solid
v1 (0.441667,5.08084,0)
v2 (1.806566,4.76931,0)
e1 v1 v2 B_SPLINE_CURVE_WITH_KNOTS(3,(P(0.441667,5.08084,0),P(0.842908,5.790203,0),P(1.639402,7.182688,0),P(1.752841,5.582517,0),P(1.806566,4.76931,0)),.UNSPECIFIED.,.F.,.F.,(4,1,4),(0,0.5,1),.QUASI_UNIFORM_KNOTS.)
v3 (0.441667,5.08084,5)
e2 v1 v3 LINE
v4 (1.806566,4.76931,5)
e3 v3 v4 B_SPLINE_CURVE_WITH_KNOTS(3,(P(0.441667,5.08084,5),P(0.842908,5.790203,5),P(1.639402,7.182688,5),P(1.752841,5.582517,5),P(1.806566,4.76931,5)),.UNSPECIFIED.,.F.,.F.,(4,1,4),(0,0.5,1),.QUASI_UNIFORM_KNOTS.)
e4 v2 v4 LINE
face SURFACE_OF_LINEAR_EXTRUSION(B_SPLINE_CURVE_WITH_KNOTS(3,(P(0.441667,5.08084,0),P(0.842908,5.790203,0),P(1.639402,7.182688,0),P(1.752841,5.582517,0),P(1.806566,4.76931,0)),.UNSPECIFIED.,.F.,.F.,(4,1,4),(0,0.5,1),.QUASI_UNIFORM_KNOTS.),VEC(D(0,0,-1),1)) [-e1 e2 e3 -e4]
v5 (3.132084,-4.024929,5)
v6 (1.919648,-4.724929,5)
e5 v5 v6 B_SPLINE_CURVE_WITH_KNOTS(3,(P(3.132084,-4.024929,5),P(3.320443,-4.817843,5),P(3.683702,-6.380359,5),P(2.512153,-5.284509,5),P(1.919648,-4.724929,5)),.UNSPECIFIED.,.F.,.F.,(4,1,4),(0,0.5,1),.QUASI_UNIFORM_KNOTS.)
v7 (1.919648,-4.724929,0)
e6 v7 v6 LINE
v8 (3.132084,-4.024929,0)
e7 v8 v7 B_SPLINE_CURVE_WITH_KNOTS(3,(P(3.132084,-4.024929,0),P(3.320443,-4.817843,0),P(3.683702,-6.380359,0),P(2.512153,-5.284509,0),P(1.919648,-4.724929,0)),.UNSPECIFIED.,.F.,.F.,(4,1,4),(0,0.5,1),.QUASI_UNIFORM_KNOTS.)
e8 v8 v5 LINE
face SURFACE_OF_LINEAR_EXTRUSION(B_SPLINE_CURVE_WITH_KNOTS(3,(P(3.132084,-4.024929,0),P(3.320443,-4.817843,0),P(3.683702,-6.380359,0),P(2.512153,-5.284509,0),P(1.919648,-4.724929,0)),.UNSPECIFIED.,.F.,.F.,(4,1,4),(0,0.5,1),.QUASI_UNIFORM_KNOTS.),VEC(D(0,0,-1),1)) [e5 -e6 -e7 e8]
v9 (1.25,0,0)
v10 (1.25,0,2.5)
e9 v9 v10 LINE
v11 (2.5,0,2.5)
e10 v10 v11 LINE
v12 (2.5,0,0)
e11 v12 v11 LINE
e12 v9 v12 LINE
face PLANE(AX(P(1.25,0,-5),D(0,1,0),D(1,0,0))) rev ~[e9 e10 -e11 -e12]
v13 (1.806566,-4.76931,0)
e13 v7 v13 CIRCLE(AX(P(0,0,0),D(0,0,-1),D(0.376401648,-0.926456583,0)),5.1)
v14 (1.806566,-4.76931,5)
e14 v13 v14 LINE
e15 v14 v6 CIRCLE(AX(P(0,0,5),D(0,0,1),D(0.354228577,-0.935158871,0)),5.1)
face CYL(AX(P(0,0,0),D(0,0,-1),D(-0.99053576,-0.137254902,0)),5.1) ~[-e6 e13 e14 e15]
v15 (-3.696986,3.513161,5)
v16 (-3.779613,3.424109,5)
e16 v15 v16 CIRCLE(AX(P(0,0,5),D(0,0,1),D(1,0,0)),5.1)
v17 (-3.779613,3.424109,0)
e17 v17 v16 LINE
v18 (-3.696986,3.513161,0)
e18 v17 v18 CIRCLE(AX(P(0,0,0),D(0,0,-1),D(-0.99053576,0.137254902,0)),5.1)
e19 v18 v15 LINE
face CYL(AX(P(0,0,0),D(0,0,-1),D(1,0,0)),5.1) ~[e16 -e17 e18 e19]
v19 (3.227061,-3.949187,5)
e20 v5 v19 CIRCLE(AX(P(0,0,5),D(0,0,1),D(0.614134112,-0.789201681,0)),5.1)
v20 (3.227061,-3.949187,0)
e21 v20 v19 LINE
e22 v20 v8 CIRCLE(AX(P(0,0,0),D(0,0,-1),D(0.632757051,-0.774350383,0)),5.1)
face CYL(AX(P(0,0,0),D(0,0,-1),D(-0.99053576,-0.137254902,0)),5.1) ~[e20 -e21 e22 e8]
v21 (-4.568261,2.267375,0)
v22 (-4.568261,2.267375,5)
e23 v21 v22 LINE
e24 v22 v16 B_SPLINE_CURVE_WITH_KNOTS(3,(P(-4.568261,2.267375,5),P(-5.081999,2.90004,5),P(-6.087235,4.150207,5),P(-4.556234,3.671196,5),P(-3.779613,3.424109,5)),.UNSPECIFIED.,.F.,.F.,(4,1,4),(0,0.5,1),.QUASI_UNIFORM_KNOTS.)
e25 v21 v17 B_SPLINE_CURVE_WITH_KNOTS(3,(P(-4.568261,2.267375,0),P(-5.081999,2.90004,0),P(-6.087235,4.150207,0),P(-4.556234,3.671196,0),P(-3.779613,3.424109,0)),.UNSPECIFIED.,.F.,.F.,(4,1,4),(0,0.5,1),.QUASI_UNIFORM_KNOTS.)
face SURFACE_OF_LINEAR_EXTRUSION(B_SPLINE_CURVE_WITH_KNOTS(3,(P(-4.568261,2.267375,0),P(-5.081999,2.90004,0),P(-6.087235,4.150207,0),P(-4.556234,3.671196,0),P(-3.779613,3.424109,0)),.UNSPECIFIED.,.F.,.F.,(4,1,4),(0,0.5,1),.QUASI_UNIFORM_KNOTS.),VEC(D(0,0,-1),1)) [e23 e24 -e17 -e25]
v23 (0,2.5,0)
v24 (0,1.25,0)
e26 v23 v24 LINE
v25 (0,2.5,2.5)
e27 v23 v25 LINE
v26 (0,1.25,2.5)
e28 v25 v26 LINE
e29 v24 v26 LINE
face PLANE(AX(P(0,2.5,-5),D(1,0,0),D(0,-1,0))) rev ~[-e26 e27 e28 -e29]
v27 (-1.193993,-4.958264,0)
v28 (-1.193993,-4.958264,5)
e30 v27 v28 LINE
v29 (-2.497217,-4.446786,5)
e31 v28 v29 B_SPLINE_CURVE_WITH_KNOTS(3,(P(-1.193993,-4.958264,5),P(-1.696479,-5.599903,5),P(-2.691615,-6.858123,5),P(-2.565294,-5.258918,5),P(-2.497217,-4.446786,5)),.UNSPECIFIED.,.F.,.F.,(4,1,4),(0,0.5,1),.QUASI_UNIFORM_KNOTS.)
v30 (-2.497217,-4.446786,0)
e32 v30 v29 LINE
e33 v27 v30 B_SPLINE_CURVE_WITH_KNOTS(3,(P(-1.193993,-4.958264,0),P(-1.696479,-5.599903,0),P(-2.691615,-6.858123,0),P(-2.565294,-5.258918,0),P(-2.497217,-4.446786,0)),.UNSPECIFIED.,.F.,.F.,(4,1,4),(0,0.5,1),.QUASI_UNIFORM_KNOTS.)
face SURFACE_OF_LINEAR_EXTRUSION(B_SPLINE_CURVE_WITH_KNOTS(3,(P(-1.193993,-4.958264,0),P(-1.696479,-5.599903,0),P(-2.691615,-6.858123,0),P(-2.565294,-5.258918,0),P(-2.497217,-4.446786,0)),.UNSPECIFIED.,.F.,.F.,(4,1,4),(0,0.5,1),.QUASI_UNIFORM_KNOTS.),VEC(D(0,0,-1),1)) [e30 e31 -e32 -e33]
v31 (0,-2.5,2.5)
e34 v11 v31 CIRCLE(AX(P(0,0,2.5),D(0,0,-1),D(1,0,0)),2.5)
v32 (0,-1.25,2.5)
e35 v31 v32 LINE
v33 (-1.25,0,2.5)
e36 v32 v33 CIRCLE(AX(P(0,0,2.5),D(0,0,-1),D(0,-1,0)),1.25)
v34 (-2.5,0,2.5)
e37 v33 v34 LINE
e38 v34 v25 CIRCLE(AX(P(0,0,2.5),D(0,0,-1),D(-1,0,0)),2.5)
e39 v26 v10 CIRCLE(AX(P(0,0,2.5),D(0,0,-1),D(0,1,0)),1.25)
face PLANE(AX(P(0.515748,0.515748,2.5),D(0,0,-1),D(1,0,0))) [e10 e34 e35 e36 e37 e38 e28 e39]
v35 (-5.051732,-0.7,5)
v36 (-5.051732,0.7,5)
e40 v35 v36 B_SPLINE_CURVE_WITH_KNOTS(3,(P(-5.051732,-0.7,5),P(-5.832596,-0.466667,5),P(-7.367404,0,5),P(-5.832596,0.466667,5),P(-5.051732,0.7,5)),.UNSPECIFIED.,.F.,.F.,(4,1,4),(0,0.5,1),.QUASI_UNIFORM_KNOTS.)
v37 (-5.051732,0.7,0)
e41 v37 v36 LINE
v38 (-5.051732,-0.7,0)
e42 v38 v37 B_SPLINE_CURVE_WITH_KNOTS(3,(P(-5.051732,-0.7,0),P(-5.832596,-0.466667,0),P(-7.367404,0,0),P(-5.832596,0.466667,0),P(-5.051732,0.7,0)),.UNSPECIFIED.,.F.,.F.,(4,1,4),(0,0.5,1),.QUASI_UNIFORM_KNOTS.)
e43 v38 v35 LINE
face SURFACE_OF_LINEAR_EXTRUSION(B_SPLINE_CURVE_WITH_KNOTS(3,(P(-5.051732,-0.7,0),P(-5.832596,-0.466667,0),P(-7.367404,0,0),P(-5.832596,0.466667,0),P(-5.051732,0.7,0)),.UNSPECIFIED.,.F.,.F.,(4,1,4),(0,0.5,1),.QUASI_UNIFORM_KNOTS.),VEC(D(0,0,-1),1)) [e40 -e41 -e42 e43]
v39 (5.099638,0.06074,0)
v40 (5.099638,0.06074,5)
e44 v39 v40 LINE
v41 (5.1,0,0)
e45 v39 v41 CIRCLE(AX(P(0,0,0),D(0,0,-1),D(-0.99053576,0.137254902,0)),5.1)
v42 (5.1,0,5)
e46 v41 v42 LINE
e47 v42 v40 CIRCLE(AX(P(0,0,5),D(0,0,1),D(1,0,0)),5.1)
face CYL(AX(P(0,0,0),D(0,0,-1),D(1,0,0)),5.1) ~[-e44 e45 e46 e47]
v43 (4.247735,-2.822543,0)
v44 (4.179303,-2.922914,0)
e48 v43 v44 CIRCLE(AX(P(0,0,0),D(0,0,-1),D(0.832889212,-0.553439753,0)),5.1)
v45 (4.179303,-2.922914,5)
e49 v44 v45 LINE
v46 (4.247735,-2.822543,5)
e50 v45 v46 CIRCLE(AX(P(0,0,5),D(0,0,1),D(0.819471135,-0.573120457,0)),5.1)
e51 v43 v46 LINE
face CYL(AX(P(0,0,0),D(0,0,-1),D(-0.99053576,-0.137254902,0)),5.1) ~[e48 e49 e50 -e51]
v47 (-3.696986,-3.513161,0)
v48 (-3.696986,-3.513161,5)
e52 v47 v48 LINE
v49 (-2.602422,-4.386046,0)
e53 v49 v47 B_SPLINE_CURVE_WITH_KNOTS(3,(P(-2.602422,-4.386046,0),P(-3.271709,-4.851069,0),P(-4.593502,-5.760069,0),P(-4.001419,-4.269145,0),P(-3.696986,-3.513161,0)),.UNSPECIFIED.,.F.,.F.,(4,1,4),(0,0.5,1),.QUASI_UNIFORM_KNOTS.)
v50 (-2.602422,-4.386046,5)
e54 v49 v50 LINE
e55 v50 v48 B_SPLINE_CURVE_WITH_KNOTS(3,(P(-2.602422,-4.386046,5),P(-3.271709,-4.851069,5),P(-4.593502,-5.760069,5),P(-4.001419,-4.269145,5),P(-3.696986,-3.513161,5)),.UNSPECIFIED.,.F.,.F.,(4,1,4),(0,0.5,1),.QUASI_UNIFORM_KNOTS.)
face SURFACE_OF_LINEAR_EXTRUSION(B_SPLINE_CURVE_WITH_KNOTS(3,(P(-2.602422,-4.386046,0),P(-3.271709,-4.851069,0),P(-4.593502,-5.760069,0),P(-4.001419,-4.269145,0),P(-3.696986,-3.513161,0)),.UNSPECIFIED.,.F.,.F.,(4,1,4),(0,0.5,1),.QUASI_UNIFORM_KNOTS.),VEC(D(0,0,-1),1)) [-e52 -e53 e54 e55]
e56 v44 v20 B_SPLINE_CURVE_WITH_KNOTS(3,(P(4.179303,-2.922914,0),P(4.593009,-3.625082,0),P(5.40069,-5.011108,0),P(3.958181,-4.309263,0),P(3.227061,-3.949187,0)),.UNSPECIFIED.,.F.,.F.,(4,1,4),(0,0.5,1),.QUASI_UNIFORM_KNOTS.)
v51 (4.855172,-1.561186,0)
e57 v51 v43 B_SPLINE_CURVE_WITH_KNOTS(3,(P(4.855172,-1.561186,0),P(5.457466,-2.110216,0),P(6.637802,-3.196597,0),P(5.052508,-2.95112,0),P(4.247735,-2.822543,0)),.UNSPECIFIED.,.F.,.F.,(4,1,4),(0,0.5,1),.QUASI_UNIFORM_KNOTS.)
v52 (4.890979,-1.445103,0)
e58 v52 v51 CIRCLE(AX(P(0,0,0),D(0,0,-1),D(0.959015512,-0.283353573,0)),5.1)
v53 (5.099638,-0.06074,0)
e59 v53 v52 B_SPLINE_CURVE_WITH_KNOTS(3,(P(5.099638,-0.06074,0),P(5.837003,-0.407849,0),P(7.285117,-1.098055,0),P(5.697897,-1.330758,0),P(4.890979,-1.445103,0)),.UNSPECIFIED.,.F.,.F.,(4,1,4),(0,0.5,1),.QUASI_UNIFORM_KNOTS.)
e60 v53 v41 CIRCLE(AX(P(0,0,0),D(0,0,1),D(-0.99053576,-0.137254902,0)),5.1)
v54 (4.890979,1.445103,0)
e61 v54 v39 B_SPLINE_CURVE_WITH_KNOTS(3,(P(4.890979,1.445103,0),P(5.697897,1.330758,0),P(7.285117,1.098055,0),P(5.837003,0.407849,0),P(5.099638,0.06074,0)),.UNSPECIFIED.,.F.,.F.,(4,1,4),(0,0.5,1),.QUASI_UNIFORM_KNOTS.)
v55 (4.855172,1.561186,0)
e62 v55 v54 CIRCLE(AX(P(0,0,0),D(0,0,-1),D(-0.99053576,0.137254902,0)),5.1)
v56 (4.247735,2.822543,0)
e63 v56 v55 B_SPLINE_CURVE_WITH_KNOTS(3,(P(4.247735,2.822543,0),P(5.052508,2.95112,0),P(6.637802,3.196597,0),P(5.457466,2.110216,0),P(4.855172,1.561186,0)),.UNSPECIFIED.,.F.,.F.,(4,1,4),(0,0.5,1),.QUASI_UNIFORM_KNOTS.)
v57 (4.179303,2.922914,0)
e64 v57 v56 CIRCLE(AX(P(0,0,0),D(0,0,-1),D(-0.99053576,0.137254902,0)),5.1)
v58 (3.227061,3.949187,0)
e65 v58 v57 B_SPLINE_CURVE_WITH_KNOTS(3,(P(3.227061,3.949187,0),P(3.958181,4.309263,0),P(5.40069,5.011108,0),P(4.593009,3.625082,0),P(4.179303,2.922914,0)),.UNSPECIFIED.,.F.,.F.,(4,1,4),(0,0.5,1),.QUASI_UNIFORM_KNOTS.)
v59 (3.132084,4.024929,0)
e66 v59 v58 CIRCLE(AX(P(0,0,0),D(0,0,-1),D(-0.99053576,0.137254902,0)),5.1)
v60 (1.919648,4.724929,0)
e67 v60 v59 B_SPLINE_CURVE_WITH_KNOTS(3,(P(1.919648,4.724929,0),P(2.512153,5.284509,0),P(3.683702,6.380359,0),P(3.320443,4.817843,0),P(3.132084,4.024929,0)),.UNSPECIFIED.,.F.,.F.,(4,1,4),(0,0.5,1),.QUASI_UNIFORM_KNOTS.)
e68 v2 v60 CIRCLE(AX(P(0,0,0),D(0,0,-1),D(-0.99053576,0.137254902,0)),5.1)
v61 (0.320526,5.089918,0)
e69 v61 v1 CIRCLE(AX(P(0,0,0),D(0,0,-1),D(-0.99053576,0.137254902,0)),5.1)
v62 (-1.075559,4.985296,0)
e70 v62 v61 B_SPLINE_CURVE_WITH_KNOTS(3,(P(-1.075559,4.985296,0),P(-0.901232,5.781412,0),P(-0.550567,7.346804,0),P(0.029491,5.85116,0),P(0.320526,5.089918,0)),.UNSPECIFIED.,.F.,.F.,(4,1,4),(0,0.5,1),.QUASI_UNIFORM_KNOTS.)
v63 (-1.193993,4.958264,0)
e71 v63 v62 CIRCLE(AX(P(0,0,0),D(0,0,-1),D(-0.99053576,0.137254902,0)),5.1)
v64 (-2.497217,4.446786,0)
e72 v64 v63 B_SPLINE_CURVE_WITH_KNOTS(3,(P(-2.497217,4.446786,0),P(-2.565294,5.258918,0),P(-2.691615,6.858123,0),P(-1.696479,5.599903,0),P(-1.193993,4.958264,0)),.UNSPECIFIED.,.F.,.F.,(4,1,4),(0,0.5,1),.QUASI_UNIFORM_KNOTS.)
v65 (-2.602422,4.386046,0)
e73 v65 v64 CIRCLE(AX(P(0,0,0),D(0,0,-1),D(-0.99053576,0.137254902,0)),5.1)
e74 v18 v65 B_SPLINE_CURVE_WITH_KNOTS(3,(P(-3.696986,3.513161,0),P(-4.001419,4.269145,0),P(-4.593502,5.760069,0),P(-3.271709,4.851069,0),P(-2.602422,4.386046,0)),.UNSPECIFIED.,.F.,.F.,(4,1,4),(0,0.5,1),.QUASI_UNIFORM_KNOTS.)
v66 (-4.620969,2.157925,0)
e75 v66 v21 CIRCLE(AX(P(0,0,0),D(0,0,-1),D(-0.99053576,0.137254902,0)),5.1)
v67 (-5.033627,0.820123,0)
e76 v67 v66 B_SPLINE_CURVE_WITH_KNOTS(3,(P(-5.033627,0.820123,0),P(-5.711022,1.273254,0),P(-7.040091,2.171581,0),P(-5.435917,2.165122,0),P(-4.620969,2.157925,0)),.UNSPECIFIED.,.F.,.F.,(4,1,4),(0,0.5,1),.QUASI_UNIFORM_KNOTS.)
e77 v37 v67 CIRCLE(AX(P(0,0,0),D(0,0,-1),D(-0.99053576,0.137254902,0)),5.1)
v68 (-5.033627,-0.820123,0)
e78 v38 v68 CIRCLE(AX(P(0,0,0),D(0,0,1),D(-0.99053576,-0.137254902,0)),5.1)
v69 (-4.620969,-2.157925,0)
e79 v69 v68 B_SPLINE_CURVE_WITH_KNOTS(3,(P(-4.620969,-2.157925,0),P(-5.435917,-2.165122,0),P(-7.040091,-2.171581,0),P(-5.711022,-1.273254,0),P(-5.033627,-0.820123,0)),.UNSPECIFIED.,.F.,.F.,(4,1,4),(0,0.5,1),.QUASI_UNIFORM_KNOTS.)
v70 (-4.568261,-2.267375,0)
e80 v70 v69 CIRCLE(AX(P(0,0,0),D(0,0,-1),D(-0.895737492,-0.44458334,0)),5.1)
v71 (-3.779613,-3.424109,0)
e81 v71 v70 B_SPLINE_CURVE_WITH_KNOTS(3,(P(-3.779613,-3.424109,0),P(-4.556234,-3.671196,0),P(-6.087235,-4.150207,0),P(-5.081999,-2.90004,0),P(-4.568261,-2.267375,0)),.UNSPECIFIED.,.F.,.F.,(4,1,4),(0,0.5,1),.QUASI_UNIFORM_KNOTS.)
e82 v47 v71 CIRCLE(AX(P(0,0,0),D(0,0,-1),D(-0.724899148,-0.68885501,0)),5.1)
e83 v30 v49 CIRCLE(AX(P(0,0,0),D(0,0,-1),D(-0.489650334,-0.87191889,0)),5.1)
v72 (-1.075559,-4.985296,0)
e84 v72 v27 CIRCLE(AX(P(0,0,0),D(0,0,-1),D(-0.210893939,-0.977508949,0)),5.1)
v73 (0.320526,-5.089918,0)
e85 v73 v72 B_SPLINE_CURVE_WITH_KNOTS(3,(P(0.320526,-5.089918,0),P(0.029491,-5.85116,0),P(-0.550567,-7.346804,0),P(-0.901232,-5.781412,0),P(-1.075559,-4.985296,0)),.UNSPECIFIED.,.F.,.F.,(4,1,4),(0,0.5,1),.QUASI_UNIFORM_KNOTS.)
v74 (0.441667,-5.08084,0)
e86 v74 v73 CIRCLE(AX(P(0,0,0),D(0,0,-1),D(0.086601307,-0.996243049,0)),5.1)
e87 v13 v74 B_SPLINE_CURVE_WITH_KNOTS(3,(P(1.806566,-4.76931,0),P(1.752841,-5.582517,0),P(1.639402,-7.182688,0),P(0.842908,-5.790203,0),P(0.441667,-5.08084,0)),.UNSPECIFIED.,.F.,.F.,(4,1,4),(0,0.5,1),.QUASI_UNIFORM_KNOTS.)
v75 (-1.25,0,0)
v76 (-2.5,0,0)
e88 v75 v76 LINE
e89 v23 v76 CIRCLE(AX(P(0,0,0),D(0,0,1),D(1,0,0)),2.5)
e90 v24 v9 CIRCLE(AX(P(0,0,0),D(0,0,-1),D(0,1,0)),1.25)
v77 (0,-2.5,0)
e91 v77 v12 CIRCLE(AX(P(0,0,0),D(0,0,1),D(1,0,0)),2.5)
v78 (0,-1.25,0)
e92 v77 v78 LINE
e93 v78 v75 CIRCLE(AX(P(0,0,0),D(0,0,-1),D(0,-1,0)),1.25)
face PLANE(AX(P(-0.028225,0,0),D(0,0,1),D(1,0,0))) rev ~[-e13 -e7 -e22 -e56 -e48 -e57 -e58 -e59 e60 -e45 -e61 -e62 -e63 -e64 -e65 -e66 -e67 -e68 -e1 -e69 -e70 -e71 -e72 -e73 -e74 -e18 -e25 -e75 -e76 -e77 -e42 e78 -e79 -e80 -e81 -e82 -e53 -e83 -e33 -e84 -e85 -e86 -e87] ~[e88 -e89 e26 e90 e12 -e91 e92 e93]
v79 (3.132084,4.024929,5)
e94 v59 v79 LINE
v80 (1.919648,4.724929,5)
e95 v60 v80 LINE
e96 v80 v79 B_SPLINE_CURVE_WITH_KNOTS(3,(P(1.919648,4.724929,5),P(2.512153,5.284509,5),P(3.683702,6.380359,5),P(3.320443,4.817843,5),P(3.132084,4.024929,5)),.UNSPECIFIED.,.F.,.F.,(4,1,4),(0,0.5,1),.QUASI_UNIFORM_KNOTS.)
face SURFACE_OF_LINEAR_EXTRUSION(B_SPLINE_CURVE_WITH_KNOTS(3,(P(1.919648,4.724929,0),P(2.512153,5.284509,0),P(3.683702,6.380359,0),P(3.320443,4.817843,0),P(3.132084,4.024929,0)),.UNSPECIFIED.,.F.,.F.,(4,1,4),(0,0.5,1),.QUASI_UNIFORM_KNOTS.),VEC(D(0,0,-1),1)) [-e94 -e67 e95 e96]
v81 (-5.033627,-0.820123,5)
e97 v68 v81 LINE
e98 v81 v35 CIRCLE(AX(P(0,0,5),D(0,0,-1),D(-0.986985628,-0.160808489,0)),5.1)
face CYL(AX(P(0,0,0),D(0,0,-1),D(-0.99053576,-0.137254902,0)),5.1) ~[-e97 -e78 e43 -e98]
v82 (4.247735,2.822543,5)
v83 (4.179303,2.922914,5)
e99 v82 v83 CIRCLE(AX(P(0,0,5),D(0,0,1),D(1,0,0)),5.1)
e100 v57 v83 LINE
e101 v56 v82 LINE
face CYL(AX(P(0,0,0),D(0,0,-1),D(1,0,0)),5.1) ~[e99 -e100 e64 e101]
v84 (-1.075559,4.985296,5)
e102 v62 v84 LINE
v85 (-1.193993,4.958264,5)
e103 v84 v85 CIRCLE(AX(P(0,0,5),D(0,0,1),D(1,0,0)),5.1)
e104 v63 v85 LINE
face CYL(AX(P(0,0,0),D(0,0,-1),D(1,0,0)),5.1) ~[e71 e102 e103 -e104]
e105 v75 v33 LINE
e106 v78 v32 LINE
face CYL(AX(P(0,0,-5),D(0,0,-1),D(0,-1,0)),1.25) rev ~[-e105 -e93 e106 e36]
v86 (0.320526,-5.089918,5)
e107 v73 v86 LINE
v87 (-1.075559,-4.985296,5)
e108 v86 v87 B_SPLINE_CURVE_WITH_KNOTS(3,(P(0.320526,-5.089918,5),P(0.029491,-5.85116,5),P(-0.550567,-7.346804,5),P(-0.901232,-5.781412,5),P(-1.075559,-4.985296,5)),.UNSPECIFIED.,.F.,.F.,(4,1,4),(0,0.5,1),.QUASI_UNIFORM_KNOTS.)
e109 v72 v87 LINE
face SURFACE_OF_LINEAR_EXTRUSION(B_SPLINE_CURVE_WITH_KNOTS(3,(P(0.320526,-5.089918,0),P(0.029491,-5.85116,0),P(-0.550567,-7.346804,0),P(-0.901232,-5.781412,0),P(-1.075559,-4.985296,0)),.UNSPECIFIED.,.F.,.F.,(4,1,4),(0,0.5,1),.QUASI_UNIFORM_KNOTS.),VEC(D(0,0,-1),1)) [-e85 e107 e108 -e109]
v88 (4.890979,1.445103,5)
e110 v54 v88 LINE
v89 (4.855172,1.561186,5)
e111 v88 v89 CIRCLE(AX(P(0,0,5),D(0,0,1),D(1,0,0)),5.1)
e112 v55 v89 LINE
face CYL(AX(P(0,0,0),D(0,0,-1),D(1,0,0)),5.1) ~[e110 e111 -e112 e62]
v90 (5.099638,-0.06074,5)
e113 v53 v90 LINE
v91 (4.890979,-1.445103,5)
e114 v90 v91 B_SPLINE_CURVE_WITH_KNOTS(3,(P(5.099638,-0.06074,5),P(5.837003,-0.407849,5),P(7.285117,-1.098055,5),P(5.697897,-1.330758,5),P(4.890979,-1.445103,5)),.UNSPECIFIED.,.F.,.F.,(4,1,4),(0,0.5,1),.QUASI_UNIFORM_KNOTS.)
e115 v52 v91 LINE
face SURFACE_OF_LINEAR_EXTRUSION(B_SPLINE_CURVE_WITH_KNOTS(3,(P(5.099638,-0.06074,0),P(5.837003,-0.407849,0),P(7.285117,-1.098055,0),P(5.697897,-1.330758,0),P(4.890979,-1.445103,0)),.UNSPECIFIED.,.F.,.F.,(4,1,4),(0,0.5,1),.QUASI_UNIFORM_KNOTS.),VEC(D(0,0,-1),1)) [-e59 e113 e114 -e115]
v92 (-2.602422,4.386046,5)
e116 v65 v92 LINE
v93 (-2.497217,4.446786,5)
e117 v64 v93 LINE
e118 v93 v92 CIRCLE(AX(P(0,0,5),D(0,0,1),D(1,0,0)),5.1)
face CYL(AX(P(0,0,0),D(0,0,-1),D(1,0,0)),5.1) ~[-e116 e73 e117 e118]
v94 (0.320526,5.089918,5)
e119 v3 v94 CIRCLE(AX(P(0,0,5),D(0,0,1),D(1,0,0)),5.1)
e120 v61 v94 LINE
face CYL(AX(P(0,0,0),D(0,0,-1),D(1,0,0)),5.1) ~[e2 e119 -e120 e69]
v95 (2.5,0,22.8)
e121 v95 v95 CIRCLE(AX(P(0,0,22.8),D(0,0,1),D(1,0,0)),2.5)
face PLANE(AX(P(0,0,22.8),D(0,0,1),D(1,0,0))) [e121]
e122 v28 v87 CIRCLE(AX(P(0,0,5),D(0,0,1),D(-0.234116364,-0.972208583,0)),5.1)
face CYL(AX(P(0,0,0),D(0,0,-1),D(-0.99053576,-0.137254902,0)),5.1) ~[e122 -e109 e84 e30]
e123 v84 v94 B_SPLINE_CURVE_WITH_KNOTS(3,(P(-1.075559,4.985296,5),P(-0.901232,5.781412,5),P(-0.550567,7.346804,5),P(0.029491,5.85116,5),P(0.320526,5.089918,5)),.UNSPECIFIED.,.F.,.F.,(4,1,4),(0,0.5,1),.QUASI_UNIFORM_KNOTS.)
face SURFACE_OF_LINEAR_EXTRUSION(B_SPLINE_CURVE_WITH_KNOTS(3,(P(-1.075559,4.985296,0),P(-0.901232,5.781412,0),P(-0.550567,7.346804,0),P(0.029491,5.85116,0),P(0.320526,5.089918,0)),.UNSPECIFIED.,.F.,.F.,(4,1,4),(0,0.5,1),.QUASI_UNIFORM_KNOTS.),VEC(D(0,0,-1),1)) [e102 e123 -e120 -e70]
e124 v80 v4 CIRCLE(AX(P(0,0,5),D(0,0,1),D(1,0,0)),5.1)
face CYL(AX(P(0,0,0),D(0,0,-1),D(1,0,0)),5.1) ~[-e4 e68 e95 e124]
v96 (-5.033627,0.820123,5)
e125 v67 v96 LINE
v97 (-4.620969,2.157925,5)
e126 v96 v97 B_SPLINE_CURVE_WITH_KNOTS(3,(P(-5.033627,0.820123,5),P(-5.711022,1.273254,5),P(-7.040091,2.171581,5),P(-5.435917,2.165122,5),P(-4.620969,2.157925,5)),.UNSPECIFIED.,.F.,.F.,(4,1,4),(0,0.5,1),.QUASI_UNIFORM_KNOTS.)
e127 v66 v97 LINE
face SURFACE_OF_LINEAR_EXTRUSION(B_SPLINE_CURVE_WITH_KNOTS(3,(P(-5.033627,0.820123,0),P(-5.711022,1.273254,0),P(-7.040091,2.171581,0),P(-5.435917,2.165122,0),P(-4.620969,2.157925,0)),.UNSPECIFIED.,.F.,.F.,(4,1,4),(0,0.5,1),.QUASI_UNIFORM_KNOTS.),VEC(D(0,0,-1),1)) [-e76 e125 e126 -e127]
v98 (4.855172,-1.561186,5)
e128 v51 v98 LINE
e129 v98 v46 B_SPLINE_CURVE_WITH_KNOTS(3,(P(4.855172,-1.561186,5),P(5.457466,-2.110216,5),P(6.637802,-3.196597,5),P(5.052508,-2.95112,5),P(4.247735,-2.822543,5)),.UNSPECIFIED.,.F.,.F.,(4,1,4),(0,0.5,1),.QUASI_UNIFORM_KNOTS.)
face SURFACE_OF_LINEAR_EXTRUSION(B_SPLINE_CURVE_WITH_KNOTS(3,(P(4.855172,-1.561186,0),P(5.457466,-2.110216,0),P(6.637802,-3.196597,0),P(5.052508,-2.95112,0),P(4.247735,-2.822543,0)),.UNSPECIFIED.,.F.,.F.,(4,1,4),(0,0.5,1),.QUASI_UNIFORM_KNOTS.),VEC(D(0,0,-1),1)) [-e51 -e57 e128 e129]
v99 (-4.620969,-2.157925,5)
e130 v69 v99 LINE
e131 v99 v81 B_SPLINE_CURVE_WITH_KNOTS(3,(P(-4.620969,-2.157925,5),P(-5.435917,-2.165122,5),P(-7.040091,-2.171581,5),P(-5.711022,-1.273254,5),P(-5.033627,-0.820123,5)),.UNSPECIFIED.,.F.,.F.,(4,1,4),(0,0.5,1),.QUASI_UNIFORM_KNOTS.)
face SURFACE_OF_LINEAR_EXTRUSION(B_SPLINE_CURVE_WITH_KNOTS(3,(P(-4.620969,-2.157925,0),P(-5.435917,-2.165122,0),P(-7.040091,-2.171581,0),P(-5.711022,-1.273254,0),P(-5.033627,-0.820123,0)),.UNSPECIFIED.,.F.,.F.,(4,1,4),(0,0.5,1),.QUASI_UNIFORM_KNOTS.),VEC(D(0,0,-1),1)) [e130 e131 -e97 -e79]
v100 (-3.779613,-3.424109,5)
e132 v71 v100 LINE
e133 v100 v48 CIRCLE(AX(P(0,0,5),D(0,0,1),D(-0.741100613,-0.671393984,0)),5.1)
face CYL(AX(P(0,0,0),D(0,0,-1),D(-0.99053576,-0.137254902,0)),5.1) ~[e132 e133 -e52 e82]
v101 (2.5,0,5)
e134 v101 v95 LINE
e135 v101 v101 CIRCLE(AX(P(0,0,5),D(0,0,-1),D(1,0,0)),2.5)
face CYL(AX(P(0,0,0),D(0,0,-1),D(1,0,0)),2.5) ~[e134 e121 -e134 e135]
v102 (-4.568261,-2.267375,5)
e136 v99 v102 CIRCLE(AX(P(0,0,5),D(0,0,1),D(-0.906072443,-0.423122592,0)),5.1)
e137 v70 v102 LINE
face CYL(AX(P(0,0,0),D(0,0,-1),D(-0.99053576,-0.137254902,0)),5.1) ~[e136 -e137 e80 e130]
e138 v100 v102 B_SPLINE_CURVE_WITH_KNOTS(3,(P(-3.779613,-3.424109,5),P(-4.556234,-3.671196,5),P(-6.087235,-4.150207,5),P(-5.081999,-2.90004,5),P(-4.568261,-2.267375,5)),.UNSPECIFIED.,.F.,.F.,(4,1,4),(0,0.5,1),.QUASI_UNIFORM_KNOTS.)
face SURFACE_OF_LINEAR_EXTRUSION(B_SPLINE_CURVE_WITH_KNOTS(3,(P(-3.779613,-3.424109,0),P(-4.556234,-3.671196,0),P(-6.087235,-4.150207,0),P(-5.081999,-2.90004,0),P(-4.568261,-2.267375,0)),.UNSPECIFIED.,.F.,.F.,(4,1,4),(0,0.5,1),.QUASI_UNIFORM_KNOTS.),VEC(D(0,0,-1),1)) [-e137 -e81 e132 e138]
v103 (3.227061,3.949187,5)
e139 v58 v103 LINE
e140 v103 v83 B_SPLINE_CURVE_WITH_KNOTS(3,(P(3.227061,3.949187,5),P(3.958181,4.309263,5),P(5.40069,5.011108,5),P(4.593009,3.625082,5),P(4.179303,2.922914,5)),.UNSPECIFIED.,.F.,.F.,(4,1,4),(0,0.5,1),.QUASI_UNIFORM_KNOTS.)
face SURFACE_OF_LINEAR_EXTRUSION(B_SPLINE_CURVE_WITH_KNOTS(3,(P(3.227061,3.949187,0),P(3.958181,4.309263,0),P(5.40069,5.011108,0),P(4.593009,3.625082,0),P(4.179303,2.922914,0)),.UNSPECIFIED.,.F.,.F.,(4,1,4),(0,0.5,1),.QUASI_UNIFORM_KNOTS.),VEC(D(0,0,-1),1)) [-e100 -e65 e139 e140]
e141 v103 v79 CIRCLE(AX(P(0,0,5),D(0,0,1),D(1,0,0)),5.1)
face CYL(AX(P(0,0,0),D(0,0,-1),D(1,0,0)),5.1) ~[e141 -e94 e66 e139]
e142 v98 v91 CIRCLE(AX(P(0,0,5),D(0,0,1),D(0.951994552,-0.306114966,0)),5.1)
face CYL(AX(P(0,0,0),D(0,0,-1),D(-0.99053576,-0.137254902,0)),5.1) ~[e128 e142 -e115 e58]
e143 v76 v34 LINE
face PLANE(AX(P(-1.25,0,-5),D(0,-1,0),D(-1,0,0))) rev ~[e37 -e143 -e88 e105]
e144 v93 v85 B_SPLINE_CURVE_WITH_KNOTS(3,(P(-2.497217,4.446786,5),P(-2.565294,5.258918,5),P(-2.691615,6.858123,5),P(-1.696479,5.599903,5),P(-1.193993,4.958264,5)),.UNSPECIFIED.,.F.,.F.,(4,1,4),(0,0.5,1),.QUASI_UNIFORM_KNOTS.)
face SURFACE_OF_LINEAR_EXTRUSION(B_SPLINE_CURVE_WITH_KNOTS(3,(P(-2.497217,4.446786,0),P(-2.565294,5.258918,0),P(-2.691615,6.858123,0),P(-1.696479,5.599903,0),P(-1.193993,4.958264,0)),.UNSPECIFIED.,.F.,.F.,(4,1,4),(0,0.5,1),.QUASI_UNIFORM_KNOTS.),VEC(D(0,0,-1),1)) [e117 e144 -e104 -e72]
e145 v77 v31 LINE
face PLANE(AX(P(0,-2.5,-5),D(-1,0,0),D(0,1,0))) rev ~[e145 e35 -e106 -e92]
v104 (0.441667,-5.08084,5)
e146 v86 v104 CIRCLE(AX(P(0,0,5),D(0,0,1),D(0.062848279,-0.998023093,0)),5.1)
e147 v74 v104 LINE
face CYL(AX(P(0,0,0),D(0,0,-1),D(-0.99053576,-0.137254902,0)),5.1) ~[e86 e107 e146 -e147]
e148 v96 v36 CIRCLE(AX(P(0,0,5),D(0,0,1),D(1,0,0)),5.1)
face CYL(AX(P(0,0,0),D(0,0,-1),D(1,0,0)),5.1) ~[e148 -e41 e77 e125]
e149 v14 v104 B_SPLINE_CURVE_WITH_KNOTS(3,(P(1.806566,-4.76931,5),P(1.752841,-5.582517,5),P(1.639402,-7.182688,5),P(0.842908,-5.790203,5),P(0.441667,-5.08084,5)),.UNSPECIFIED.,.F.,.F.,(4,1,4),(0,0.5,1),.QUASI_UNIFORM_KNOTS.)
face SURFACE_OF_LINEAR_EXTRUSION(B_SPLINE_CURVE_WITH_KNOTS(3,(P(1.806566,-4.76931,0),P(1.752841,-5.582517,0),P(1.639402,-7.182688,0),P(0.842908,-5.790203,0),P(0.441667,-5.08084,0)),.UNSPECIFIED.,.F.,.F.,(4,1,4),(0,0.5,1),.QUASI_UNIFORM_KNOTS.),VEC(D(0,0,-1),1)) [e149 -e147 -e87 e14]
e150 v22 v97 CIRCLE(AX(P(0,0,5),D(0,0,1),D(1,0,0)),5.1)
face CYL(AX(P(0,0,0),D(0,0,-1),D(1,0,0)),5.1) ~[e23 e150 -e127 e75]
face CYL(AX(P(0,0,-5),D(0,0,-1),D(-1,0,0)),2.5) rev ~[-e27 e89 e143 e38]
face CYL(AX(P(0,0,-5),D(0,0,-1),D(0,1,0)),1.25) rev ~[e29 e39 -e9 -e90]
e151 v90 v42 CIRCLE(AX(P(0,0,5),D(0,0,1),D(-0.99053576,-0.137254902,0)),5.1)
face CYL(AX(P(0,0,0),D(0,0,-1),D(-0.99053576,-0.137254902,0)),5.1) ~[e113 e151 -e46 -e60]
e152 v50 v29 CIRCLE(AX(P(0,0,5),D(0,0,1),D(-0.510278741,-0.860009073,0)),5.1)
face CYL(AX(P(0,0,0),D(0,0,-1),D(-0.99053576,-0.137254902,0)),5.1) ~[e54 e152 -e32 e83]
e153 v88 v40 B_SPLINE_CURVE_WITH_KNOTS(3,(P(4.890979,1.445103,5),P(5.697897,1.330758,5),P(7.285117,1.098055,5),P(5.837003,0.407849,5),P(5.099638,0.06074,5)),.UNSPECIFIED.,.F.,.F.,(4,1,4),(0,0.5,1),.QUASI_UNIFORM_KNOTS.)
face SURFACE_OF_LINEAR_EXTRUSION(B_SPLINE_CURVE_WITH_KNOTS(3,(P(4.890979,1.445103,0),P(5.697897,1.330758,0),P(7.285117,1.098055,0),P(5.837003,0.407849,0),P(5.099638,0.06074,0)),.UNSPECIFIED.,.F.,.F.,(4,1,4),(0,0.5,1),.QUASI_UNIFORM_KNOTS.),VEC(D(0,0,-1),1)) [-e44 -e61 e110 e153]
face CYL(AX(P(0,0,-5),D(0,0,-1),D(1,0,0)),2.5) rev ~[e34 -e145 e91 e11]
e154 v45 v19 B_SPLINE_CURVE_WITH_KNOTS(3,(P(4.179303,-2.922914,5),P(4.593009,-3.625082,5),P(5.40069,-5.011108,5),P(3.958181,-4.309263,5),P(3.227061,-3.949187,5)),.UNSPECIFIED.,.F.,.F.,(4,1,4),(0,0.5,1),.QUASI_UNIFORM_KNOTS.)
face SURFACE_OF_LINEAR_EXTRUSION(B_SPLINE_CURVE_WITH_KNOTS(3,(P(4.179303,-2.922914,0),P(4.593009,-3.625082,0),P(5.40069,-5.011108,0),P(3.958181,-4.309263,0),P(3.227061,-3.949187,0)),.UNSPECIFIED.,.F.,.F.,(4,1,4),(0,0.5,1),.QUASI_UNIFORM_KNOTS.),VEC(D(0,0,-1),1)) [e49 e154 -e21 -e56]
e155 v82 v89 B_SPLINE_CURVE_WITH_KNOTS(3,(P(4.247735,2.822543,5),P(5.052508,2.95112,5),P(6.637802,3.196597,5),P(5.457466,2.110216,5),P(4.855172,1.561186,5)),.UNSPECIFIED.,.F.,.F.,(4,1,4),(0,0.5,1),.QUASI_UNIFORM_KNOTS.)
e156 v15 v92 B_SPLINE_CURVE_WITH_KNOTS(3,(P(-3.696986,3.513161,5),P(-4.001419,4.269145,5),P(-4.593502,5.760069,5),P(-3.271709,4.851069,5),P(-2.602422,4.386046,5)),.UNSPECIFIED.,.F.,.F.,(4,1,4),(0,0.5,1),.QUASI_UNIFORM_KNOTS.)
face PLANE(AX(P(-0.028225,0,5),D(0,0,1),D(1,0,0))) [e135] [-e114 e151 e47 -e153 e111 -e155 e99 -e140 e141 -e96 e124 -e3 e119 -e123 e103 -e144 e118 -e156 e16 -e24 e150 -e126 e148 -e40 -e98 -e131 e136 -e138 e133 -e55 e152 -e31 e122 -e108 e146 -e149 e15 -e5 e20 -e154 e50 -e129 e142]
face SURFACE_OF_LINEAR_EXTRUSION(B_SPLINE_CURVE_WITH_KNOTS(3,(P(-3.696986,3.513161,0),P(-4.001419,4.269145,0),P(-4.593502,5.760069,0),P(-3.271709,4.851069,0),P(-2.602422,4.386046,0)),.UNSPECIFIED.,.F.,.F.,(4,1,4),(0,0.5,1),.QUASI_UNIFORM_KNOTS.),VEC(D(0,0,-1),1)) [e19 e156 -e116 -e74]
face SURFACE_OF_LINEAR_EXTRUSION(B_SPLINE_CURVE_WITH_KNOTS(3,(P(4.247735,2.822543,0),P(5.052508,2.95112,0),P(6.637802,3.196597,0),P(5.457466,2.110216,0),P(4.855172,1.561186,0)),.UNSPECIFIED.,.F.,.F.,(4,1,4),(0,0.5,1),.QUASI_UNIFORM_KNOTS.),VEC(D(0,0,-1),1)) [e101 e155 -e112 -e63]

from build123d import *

# Parameters (mm, degrees)
F0_R     = 2.5
F1_DEPTH = 5
F2_COUNT = 21
F3_DEPTH = 22.8
F4_DEPTH = 5
F6_DEPTH = 7.5
F7_DEPTH = 5


with BuildPart() as f1:
    # F0 (on Top) → F1 (new body)
    with BuildSketch(Plane.XY):
        with BuildLine():
            ThreePointArc((-5.0517323761, -0.7), (0.3508310717, -5.0879187846), (5.1, 0))
            ThreePointArc((5.1, 0), (0.3508310717, 5.0879187846), (-5.0517323761, 0.7))
            ThreePointArc((-5.0517323761, 0.7), (-5.1, 0), (-5.0517323761, -0.7))
        make_face()
        Circle(F0_R, mode=Mode.SUBTRACT)
        with BuildLine():
            ThreePointArc((-5.0517323761, -0.7), (-5.1, 0), (-5.0517323761, 0.7))
            add(Edge.make_bspline(
                [(-5.0517323761, -0.7), (-5.8325955094, -0.4666666667), (-7.3674044906, 0), (-5.8325955094, 0.4666666667), (-5.0517323761, 0.7)],
                knots=[0, 0, 0, 0, 0.5, 1, 1, 1, 1], degree=3))
        make_face()
    extrude(amount=F1_DEPTH)


with BuildPart() as f2_1:
    # F2: instance of F1
    add(f1.part.rotate(Axis((0, 0, 5), (0, 0, 1)), 1 * 360 / F2_COUNT))


with BuildPart() as f2_2:
    # F2: instance of F1
    add(f1.part.rotate(Axis((0, 0, 5), (0, 0, 1)), 2 * 360 / F2_COUNT))


with BuildPart() as f2_3:
    # F2: instance of F1
    add(f1.part.rotate(Axis((0, 0, 5), (0, 0, 1)), 3 * 360 / F2_COUNT))


with BuildPart() as f2_4:
    # F2: instance of F1
    add(f1.part.rotate(Axis((0, 0, 5), (0, 0, 1)), 4 * 360 / F2_COUNT))


with BuildPart() as f2_5:
    # F2: instance of F1
    add(f1.part.rotate(Axis((0, 0, 5), (0, 0, 1)), 5 * 360 / F2_COUNT))


with BuildPart() as f2_6:
    # F2: instance of F1
    add(f1.part.rotate(Axis((0, 0, 5), (0, 0, 1)), 6 * 360 / F2_COUNT))


with BuildPart() as f2_7:
    # F2: instance of F1
    add(f1.part.rotate(Axis((0, 0, 5), (0, 0, 1)), 7 * 360 / F2_COUNT))


with BuildPart() as f2_8:
    # F2: instance of F1
    add(f1.part.rotate(Axis((0, 0, 5), (0, 0, 1)), 8 * 360 / F2_COUNT))


with BuildPart() as f2_9:
    # F2: instance of F1
    add(f1.part.rotate(Axis((0, 0, 5), (0, 0, 1)), 9 * 360 / F2_COUNT))


with BuildPart() as f2_10:
    # F2: instance of F1
    add(f1.part.rotate(Axis((0, 0, 5), (0, 0, 1)), 10 * 360 / F2_COUNT))


with BuildPart() as f2_11:
    # F2: instance of F1
    add(f1.part.rotate(Axis((0, 0, 5), (0, 0, 1)), 11 * 360 / F2_COUNT))


with BuildPart() as f2_12:
    # F2: instance of F1
    add(f1.part.rotate(Axis((0, 0, 5), (0, 0, 1)), 12 * 360 / F2_COUNT))


with BuildPart() as f2_13:
    # F2: instance of F1
    add(f1.part.rotate(Axis((0, 0, 5), (0, 0, 1)), 13 * 360 / F2_COUNT))


with BuildPart() as f2_14:
    # F2: instance of F1
    add(f1.part.rotate(Axis((0, 0, 5), (0, 0, 1)), 14 * 360 / F2_COUNT))


with BuildPart() as f2_15:
    # F2: instance of F1
    add(f1.part.rotate(Axis((0, 0, 5), (0, 0, 1)), 15 * 360 / F2_COUNT))


with BuildPart() as f2_16:
    # F2: instance of F1
    add(f1.part.rotate(Axis((0, 0, 5), (0, 0, 1)), 16 * 360 / F2_COUNT))


with BuildPart() as f2_17:
    # F2: instance of F1
    add(f1.part.rotate(Axis((0, 0, 5), (0, 0, 1)), 17 * 360 / F2_COUNT))


with BuildPart() as f2_18:
    # F2: instance of F1
    add(f1.part.rotate(Axis((0, 0, 5), (0, 0, 1)), 18 * 360 / F2_COUNT))


with BuildPart() as f2_19:
    # F2: instance of F1
    add(f1.part.rotate(Axis((0, 0, 5), (0, 0, 1)), 19 * 360 / F2_COUNT))


with BuildPart() as f2_20:
    # F2: instance of F1
    add(f1.part.rotate(Axis((0, 0, 5), (0, 0, 1)), 20 * 360 / F2_COUNT))


with BuildPart() as f1_1:
    add(f1.part)

    add(f2_1.part)  # F3 merges F2_1

    add(f2_2.part)  # F3 merges F2_2

    add(f2_3.part)  # F3 merges F2_3

    add(f2_4.part)  # F3 merges F2_4

    add(f2_5.part)  # F3 merges F2_5

    add(f2_6.part)  # F3 merges F2_6

    add(f2_7.part)  # F3 merges F2_7

    add(f2_8.part)  # F3 merges F2_8

    add(f2_9.part)  # F3 merges F2_9

    add(f2_10.part)  # F3 merges F2_10

    add(f2_11.part)  # F3 merges F2_11

    add(f2_12.part)  # F3 merges F2_12

    add(f2_13.part)  # F3 merges F2_13

    add(f2_14.part)  # F3 merges F2_14

    add(f2_15.part)  # F3 merges F2_15

    add(f2_16.part)  # F3 merges F2_16

    add(f2_17.part)  # F3 merges F2_17

    add(f2_18.part)  # F3 merges F2_18

    add(f2_19.part)  # F3 merges F2_19

    add(f2_20.part)  # F3 merges F2_20
    # F0 (on Top) → F3 (join)
    with BuildSketch(Plane.XY):
        Circle(F0_R)
    extrude(amount=F3_DEPTH)

    # F0 (on Top) → F4 (join)
    with BuildSketch(Plane.XY):
        Circle(F0_R)
    extrude(amount=-F4_DEPTH)

    # F5 (on face) → F6 (cut)
    with BuildSketch(Plane(origin=(0, 0, -5), x_dir=(1, 0, 0), z_dir=(0, 0, -1))):
        with BuildLine():
            ThreePointArc((0, -1.25), (0.8838834765, -0.8838834765), (1.25, 0))
            Line((1.25, 0), (0, 0))
            Line((0, 0), (0, -1.25))
        make_face()
        with BuildLine():
            Line((0, -1.25), (0, 0))
            Line((0, 0), (-1.25, 0))
            ThreePointArc((-1.25, 0), (-0.8838834765, -0.8838834765), (0, -1.25))
        make_face()
        with BuildLine():
            Line((-1.25, 0), (0, 0))
            Line((0, 0), (0, 1.25))
            ThreePointArc((0, 1.25), (-0.8838834765, 0.8838834765), (-1.25, 0))
        make_face()
        with BuildLine():
            Line((0, 0), (1.25, 0))
            ThreePointArc((1.25, 0), (0.8838834765, 0.8838834765), (0, 1.25))
            Line((0, 1.25), (0, 0))
        make_face()
        with BuildLine():
            ThreePointArc((0, 1.25), (0.8838834765, 0.8838834765), (1.25, 0))
            Line((1.25, 0), (2.5, 0))
            ThreePointArc((2.5, 0), (1.767766953, 1.767766953), (0, 2.5))
            Line((0, 2.5), (0, 1.25))
        make_face()
        with BuildLine():
            Line((0, -2.5), (0, -1.25))
            ThreePointArc((0, -1.25), (-0.8838834765, -0.8838834765), (-1.25, 0))
            Line((-1.25, 0), (-2.5, 0))
            ThreePointArc((-2.5, 0), (-1.767766953, -1.767766953), (0, -2.5))
        make_face()
    extrude(amount=-F6_DEPTH, mode=Mode.SUBTRACT)

    # F7 (cut): faces of the model
    f7_faces = [f1_1.faces().sort_by_distance(p)[0] for p in [
        (1.2378717796, 1.2378717796, -5),
        (-1.2378717796, -1.2378717796, -5),
    ]]
    extrude(f7_faces, amount=-F7_DEPTH, mode=Mode.SUBTRACT)


solid = f1_1.part
